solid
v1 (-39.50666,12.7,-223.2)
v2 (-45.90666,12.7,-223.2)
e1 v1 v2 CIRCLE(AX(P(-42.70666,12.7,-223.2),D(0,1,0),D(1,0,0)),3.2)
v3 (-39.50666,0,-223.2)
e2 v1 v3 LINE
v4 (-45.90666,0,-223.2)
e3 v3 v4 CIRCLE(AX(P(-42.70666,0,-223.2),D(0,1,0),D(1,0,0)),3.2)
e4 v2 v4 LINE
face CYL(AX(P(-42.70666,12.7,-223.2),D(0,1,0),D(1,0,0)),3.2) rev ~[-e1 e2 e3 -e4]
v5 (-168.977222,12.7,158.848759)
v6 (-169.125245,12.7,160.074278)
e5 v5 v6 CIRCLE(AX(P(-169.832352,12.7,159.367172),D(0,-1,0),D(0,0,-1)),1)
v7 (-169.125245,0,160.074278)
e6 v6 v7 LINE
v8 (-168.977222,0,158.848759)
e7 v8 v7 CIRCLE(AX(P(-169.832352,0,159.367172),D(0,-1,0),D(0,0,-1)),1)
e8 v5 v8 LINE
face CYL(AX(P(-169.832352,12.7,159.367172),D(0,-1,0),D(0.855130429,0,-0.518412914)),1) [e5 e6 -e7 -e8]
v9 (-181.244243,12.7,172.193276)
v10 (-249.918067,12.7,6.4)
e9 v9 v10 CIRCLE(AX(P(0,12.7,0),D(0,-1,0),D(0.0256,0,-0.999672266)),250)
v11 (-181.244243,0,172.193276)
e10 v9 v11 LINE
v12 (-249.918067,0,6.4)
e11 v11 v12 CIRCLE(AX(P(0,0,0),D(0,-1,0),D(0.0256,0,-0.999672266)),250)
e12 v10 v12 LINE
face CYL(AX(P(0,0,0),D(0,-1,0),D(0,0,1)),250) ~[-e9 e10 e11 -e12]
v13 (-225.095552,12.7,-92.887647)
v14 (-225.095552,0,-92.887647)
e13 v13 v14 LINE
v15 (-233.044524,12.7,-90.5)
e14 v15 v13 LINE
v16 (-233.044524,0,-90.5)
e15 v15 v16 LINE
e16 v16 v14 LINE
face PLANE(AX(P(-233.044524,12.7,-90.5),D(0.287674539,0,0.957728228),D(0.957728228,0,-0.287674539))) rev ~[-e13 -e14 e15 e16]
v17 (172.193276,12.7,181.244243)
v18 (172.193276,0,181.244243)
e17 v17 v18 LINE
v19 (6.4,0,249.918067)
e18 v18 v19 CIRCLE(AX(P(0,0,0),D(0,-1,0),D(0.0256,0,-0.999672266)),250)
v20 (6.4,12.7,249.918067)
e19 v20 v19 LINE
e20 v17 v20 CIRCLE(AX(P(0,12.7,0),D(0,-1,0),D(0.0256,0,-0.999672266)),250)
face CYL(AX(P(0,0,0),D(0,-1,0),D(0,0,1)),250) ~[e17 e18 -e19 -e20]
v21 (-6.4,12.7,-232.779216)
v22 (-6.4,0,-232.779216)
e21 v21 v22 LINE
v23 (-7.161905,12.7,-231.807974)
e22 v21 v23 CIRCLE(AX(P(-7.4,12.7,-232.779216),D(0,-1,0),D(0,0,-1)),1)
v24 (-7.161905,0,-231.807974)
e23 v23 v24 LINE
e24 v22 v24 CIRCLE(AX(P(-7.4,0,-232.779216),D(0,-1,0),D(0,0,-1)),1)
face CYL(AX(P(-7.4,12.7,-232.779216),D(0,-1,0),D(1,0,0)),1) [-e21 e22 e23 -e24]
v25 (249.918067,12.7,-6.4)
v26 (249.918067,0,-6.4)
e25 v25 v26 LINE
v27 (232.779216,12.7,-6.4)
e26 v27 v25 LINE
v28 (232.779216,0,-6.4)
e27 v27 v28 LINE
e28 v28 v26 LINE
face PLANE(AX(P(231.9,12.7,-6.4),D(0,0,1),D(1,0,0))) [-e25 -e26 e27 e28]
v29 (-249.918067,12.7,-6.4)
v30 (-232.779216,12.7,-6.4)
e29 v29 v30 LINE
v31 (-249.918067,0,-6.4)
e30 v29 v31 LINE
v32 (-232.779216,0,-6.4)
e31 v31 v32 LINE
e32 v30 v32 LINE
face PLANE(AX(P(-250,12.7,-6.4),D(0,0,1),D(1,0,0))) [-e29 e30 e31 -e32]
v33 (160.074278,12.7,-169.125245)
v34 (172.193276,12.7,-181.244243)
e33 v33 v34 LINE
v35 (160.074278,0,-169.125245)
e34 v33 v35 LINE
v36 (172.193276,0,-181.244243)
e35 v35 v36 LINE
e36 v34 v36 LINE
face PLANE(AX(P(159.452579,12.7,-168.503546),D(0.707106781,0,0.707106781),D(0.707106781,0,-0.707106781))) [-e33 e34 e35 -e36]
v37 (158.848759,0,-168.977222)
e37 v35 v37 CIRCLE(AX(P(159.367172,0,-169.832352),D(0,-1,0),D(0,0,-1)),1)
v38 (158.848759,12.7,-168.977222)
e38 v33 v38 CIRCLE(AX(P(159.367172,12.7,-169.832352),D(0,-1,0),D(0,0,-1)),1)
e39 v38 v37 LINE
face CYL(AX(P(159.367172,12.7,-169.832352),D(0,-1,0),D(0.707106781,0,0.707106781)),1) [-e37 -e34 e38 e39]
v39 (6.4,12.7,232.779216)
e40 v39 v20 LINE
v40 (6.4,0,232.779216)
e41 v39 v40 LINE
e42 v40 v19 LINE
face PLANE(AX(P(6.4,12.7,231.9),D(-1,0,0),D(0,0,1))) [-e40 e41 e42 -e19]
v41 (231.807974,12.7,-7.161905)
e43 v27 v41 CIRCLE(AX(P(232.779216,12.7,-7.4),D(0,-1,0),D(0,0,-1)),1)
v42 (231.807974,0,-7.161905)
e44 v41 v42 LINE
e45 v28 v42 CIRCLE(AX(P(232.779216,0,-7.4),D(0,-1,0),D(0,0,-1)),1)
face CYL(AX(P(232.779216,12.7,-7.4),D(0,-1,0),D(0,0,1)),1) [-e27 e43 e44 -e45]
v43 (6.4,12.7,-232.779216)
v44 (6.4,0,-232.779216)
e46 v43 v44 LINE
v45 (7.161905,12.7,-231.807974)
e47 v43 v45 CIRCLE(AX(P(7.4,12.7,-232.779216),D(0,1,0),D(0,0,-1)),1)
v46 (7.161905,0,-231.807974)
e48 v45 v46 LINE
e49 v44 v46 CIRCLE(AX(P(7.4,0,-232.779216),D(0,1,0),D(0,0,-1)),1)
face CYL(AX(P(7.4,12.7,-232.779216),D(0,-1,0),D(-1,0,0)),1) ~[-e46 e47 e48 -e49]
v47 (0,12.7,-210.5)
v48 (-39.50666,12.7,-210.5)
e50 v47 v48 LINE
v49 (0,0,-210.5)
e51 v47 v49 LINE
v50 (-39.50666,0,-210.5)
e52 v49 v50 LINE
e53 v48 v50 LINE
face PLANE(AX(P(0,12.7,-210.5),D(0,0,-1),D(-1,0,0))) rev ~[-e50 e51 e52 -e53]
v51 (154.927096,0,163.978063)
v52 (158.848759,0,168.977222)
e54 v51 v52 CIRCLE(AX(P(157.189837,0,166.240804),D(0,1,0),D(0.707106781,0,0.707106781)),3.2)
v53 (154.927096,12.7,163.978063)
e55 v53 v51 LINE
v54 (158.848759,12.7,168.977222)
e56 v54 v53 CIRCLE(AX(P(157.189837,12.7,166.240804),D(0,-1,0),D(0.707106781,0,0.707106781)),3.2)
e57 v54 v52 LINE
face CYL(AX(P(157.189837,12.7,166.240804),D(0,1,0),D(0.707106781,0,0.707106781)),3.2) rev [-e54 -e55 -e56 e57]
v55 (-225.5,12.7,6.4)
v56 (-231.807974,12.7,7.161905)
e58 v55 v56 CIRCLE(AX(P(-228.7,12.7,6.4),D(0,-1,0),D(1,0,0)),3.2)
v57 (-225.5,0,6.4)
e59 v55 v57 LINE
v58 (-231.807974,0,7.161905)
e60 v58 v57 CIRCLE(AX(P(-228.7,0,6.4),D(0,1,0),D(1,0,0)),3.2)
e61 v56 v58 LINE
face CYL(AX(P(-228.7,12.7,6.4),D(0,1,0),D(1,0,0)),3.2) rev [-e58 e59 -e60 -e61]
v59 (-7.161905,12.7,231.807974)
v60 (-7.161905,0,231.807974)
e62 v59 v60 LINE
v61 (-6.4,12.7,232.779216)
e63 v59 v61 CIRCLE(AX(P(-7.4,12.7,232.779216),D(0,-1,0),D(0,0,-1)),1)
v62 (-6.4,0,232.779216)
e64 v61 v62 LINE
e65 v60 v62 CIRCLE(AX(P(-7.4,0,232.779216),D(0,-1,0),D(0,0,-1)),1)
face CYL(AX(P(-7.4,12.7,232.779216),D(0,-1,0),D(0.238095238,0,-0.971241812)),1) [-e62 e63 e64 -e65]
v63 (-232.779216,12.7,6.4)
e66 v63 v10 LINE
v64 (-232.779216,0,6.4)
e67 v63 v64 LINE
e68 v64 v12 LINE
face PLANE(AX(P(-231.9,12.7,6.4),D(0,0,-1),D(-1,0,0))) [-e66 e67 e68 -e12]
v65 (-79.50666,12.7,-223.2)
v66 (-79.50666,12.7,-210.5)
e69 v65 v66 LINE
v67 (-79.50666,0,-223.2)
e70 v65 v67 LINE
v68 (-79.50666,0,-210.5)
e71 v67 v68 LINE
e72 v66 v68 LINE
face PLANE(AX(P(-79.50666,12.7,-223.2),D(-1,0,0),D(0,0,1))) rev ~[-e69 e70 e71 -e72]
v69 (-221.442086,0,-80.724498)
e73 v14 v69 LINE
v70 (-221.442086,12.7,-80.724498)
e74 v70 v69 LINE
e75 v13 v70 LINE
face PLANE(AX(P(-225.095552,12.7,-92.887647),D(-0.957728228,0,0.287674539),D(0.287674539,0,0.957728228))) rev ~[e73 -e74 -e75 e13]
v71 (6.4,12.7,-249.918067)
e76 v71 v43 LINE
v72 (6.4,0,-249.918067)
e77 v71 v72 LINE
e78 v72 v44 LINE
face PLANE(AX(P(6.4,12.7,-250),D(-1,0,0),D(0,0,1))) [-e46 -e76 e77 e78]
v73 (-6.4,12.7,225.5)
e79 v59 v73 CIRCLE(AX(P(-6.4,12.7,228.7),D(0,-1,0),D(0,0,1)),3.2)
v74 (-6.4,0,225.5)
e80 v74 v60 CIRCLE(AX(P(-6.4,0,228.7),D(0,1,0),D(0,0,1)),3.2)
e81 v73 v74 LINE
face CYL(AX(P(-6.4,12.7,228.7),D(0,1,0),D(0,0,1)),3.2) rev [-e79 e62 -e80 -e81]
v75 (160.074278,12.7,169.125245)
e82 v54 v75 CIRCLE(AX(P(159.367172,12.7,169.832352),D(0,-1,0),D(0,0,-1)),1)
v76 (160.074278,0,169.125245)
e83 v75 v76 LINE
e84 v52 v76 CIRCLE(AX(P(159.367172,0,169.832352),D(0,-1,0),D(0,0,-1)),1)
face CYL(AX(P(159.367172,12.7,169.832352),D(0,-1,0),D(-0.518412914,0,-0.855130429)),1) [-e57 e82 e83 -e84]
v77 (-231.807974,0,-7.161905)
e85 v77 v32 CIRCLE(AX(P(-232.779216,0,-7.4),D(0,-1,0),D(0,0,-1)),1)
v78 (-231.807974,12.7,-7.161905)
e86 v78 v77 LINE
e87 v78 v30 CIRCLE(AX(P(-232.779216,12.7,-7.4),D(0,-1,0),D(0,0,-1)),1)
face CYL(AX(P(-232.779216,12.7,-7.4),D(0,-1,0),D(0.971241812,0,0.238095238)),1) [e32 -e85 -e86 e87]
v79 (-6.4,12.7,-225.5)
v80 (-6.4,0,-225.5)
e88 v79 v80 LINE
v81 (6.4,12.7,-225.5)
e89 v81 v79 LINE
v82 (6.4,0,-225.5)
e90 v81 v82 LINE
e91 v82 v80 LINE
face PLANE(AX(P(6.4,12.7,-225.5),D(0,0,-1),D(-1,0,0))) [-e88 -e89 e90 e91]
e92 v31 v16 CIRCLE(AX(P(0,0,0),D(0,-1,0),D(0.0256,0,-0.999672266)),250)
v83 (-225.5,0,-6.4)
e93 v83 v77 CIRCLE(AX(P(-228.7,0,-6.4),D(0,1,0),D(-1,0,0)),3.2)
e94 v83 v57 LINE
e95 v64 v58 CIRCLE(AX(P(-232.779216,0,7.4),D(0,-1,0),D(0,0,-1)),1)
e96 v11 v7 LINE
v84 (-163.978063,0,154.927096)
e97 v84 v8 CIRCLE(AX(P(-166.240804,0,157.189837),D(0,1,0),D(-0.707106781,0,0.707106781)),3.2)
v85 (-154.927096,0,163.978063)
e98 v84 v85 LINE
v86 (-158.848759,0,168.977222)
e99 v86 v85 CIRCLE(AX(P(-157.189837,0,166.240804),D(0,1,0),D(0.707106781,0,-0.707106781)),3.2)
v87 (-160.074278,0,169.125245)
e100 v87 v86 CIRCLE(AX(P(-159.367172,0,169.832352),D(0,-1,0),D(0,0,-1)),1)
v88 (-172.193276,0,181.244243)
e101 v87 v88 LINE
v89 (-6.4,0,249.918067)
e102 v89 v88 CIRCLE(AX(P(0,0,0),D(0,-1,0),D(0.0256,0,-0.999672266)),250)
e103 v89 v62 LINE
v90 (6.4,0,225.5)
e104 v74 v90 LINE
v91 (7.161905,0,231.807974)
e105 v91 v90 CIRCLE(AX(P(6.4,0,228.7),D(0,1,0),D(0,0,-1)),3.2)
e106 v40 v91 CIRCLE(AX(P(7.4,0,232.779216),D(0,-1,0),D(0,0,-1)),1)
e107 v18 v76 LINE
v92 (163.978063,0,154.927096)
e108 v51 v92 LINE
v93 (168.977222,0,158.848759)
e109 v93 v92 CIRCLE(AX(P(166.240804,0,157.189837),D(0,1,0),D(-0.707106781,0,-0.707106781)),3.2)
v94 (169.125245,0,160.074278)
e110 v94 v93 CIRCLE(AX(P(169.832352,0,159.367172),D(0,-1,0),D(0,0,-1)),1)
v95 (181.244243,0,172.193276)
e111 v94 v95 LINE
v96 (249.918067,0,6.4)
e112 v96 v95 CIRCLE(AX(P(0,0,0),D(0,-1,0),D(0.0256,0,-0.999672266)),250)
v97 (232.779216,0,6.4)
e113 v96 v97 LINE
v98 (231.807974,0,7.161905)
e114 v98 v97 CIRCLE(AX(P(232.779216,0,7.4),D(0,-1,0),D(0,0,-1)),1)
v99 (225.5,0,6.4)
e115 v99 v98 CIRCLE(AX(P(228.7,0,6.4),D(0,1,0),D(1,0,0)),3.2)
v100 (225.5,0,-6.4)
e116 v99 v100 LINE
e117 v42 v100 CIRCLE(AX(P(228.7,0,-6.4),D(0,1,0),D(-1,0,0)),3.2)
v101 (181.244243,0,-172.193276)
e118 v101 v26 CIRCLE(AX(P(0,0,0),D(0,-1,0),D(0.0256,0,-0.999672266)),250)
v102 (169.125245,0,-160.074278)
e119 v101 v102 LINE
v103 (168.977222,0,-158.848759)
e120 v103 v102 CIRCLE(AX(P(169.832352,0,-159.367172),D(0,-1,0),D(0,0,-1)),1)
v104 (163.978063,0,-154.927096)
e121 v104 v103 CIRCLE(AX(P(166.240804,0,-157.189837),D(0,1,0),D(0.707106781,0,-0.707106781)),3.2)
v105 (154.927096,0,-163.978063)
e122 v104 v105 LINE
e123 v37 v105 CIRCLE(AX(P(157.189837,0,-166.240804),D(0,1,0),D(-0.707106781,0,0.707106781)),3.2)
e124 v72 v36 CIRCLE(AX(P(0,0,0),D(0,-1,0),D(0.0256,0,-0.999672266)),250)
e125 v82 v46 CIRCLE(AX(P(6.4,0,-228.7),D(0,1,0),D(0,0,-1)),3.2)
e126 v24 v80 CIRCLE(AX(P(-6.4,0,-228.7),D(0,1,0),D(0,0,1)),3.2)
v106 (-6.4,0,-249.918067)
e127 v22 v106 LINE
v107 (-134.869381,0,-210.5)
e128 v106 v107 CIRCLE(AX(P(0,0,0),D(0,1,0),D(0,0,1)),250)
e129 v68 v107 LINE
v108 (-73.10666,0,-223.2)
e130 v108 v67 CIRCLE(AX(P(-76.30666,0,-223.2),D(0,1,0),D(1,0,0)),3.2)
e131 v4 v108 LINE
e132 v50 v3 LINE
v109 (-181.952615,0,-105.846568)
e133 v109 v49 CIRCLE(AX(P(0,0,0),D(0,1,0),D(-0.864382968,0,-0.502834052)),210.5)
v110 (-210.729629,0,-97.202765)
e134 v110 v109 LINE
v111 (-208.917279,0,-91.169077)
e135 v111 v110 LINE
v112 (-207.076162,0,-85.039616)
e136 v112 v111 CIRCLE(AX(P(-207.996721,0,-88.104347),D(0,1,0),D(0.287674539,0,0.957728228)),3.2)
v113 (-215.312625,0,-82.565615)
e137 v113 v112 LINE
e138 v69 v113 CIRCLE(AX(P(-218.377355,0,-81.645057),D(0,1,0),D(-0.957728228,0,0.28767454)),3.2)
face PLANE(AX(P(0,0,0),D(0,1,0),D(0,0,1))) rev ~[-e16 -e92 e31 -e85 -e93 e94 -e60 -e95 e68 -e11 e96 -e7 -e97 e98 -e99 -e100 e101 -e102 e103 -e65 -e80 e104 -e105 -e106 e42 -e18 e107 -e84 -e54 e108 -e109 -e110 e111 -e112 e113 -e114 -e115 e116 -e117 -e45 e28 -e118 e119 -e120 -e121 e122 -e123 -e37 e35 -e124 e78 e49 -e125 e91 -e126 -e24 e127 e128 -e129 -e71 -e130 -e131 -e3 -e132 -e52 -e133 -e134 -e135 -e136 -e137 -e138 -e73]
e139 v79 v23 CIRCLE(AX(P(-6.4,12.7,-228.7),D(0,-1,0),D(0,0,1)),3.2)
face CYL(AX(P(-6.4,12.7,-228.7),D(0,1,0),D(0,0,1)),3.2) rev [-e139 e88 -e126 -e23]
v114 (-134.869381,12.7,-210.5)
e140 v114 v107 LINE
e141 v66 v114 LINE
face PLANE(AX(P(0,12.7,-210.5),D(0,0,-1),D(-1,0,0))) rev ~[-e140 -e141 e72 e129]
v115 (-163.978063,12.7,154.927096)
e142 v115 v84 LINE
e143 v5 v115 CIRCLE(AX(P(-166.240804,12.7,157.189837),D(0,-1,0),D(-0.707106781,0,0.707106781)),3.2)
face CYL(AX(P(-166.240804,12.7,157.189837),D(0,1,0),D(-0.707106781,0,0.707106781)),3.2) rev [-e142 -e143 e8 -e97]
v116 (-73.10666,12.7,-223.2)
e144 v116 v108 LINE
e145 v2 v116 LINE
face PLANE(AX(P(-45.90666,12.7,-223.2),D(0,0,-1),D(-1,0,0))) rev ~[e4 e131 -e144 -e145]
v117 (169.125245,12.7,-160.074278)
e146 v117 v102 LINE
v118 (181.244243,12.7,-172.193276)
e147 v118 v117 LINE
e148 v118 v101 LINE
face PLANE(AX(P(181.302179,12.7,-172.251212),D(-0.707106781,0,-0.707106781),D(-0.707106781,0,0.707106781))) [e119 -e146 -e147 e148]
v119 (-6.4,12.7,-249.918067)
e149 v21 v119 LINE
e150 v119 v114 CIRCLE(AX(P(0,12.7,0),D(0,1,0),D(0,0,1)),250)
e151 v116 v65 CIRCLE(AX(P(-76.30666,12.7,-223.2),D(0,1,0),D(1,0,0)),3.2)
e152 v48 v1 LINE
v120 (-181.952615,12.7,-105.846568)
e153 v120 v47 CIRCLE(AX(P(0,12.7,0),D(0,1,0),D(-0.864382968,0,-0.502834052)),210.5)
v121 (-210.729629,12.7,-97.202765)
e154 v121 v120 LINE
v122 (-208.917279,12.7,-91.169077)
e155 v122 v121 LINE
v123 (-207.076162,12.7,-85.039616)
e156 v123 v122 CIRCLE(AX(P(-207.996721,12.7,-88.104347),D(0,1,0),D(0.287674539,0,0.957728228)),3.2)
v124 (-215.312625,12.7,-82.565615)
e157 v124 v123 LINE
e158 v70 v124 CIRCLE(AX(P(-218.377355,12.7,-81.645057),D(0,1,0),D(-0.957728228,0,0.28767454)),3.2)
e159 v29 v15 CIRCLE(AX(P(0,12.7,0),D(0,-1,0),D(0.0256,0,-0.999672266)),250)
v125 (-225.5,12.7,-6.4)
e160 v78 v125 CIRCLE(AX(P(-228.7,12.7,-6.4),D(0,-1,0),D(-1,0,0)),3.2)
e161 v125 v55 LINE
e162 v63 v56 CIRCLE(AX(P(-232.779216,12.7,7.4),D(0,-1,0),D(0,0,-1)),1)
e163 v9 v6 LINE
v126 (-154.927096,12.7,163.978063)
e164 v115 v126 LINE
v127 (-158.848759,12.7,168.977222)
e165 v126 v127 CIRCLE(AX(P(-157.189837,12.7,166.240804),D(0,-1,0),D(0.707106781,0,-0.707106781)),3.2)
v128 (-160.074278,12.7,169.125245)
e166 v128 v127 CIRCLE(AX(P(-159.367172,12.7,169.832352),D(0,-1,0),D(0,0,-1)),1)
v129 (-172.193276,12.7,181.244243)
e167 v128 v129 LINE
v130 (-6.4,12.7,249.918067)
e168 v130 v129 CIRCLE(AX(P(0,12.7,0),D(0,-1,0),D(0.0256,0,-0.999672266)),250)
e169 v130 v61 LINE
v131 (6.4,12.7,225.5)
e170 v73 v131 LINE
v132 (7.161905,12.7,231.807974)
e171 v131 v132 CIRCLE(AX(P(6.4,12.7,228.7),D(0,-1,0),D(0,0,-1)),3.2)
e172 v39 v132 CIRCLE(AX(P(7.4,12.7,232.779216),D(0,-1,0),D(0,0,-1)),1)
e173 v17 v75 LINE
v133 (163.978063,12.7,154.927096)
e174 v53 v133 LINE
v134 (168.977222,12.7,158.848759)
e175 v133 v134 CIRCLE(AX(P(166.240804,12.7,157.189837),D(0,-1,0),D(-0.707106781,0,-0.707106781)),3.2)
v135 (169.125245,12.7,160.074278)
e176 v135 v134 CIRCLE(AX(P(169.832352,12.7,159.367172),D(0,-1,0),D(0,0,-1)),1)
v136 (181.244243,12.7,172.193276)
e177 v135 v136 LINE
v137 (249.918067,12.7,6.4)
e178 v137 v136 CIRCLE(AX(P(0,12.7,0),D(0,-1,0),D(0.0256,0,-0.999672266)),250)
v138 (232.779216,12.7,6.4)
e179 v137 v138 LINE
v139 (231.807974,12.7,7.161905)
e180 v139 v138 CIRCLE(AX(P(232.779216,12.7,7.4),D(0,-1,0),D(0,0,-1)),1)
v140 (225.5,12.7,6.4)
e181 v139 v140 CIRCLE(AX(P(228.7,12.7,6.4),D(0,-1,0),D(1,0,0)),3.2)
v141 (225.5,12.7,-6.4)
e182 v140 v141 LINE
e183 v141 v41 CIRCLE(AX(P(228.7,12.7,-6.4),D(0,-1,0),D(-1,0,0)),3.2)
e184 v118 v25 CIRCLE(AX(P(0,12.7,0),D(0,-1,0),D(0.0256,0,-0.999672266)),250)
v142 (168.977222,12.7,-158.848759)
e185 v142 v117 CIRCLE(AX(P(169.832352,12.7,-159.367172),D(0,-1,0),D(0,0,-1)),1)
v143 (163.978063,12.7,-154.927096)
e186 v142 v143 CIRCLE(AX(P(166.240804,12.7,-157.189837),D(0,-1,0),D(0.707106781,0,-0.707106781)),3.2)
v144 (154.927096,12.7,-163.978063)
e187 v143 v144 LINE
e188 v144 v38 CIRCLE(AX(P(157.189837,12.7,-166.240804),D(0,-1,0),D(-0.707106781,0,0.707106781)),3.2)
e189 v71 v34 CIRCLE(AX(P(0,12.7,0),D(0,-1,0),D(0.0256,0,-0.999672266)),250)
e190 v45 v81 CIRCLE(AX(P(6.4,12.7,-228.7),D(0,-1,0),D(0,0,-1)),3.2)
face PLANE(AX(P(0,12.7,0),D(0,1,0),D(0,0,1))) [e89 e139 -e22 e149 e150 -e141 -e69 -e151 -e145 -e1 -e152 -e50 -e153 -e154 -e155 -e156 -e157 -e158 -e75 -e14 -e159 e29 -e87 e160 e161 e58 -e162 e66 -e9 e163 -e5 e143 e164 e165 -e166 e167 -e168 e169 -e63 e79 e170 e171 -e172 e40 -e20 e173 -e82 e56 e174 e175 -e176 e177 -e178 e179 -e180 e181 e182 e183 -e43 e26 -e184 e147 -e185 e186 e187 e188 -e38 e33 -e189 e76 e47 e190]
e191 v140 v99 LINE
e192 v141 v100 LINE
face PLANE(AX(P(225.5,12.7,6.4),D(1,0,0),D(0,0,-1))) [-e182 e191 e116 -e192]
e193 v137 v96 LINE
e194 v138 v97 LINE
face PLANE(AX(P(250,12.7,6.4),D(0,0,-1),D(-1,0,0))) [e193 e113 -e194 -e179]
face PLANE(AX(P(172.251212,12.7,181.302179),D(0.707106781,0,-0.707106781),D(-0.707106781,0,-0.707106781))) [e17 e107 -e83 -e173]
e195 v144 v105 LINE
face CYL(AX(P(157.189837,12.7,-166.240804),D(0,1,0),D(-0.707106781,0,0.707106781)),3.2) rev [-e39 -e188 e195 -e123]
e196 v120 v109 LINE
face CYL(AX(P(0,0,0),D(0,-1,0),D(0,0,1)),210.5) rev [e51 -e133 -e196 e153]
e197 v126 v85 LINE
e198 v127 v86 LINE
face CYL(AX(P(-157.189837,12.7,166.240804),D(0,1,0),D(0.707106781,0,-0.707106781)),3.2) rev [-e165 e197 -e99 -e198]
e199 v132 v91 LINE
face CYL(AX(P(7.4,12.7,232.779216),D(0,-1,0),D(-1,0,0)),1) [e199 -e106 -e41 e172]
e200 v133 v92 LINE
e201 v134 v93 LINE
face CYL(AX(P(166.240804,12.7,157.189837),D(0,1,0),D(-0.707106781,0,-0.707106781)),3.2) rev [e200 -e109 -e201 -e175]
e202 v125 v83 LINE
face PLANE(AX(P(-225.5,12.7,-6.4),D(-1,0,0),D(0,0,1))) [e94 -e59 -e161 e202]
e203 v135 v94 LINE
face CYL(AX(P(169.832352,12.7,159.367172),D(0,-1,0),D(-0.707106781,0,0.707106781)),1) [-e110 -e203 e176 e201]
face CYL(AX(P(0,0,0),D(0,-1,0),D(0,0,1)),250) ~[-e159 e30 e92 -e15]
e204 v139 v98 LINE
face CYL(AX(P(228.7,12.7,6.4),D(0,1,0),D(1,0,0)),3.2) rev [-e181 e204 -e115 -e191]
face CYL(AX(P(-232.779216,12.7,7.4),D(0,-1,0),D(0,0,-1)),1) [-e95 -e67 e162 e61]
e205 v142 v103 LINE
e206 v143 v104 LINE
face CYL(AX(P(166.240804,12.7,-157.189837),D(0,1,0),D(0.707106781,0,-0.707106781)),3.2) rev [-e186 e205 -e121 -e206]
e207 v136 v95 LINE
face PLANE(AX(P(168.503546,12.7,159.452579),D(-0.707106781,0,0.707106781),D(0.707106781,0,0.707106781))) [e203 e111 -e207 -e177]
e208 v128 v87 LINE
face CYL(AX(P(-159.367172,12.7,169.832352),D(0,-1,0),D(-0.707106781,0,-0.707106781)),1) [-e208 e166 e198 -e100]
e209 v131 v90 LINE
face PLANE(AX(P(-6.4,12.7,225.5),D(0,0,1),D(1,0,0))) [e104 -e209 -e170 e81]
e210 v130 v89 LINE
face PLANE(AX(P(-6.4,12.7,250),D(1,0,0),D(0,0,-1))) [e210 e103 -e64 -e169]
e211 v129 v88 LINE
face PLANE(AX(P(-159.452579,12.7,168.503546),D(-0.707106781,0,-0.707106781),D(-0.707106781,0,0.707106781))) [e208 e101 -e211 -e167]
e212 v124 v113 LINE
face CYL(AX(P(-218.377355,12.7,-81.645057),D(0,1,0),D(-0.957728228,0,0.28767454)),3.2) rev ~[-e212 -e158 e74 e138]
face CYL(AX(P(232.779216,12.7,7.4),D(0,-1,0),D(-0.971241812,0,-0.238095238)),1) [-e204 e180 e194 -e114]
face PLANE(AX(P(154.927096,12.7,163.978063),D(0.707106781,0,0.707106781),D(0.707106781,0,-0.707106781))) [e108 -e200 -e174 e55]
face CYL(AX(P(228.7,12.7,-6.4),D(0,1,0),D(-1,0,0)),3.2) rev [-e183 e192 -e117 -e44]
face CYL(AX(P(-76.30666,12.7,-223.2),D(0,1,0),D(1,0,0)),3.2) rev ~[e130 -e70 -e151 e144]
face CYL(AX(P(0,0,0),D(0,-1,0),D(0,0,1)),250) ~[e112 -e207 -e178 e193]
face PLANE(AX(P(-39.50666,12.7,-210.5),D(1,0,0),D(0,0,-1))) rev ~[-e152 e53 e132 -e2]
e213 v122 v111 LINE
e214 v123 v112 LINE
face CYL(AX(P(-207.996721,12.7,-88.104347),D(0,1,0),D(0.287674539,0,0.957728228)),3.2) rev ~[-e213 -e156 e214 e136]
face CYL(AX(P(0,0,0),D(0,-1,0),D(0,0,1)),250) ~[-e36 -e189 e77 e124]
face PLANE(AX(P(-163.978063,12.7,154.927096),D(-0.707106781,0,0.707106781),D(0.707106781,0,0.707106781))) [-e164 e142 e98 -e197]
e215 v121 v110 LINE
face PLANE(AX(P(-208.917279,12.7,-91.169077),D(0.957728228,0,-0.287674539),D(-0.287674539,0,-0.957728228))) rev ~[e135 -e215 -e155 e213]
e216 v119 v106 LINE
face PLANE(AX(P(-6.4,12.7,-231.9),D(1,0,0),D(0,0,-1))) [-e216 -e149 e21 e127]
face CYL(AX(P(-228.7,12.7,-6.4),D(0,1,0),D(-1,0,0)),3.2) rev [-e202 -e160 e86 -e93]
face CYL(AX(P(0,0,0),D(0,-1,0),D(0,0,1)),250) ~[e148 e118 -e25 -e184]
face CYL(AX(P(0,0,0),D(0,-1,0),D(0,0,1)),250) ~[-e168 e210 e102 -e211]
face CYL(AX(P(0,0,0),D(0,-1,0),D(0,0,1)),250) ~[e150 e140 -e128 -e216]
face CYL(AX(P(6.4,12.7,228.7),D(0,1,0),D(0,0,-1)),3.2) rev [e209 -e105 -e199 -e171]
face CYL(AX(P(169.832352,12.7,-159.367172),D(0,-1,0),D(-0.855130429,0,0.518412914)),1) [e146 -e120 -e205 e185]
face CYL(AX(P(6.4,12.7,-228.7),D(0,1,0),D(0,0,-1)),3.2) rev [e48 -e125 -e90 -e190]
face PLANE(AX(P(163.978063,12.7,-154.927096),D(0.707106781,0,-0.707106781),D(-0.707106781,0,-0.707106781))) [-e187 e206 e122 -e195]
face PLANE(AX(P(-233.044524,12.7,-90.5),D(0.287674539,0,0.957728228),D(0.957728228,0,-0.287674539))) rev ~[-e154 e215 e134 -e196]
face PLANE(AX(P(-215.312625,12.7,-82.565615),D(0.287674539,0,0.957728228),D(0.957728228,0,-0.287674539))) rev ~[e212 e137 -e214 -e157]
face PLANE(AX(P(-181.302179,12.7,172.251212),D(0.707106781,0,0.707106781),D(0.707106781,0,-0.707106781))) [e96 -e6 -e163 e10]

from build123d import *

# Parameters (mm, degrees)
SKETCH1_R                = 250
SKETCH1_R_2              = 210.5
BOSS_EXTRUDE1_DEPTH      = 12.7
CUT_EXTRUDE1_DEPTH       = 354.781415566
FILLET1_R                = 1
CIRPATTERN1_COUNT        = 8
FILLET1_OF_CIRPATTERN1_R = 1
CUT_EXTRUDE3_DEPTH       = 354.665618911
CUT_EXTRUDE4_DEPTH       = 354.665618911


with BuildPart() as part:
    # Sketch1 → Boss-Extrude1 (new body)
    with BuildSketch(Plane(origin=(0, 0, 0), x_dir=(1, 0, 0), z_dir=(0, 1, 0))):
        with Locations(Location((0, 0, 0), (0, 0, 270))):
            Circle(SKETCH1_R)
        with Locations(Location((0, 0, 0), (0, 0, 270))):
            Circle(SKETCH1_R_2, mode=Mode.SUBTRACT)
    extrude(amount=BOSS_EXTRUDE1_DEPTH)

    # Sketch2 → Cut-Extrude1 (cut, through all)
    with BuildSketch(Plane(origin=(0, 12.7, 0), x_dir=(1, 0, 0), z_dir=(0, 1, 0))):
        with BuildLine():
            Line((6.4, 225.5), (-6.4, 225.5))
            ThreePointArc((-6.4, 225.5), (-9.6, 228.7), (-6.4, 231.9))
            Line((-6.4, 231.9), (-6.4, 250))
            Line((-6.4, 250), (6.4, 250))
            Line((6.4, 250), (6.4, 231.9))
            ThreePointArc((6.4, 231.9), (9.6, 228.7), (6.4, 225.5))
        make_face()
    cut_extrude1 = extrude(amount=-CUT_EXTRUDE1_DEPTH, mode=Mode.SUBTRACT)

    # Fillet1
    fillet1_edges = [part.edges().sort_by_distance(p)[0] for p in [
        (-6.4, 6.35, -231.9),
        (6.4, 6.35, -231.9),
    ]]
    fillet(fillet1_edges, radius=FILLET1_R)

    # CirPattern1: Cut-Extrude1 ×8 about axis
    cirpattern1_axis = Axis((0, 0, 0), (0, 1, 0))
    for i in range(1, CIRPATTERN1_COUNT):
        add(cut_extrude1.rotate(cirpattern1_axis, i * 360 / CIRPATTERN1_COUNT), mode=Mode.SUBTRACT)

    # Fillet1 of CirPattern1
    fillet1_of_cirpattern1_edges = [part.edges().sort_by_distance(p)[0] for p in [
        (-168.503545957, 6.35, -159.452579158),
        (-159.452579158, 6.35, -168.503545957),
        (-231.9, 6.35, 6.4),
        (-231.9, 6.35, -6.4),
        (-159.452579158, 6.35, 168.503545957),
        (-168.503545957, 6.35, 159.452579158),
        (6.4, 6.35, 231.9),
        (-6.4, 6.35, 231.9),
        (168.503545957, 6.35, 159.452579158),
        (159.452579158, 6.35, 168.503545957),
        (231.9, 6.35, -6.4),
        (231.9, 6.35, 6.4),
        (159.452579158, 6.35, -168.503545957),
        (168.503545957, 6.35, -159.452579158),
    ]]
    fillet(fillet1_of_cirpattern1_edges, radius=FILLET1_OF_CIRPATTERN1_R)

    # Sketch5 → Cut-Extrude3 (cut, through all)
    with BuildSketch(Plane(origin=(0, 12.7, 0), x_dir=(1, 0, 0), z_dir=(0, 1, 0))):
        Polygon((0, 210.5), (-248.044523643, 210.5), (-248.044523643, 90.5), (-233.044523643, 90.5), (0, 160.5), align=None)
    extrude(amount=-CUT_EXTRUDE3_DEPTH, mode=Mode.SUBTRACT)

    # Sketch6 → Cut-Extrude4 (cut, through all)
    with BuildSketch(Plane(origin=(0, 12.7, 0), x_dir=(1, 0, 0), z_dir=(0, 1, 0))):
        with BuildLine():
            Line((-39.506660352, 210.5), (-39.506660352, 223.2))
            ThreePointArc((-39.506660352, 223.2), (-42.706660352, 226.4), (-45.906660352, 223.2))
            Line((-45.906660352, 223.2), (-73.106660352, 223.2))
            ThreePointArc((-73.106660352, 223.2), (-76.306660352, 226.4), (-79.506660352, 223.2))
            Line((-79.506660352, 223.2), (-79.506660352, 210.5))
            Line((-79.506660352, 210.5), (-39.506660352, 210.5))
        make_face()
        with BuildLine():
            Line((-225.095552296, 92.887646728), (-221.442085646, 80.724498227))
            ThreePointArc((-221.442085646, 80.724498227), (-217.45679679, 78.580326423), (-215.312624985, 82.565615279))
            Line((-215.312624985, 82.565615279), (-207.076162221, 85.039616318))
            ThreePointArc((-207.076162221, 85.039616318), (-204.931990416, 89.024905174), (-208.917279273, 91.169076979))
            Line((-208.917279273, 91.169076979), (-210.72962887, 97.202764818))
            Line((-210.72962887, 97.202764818), (-225.095552296, 92.887646728))
        make_face()
    extrude(amount=-CUT_EXTRUDE4_DEPTH, mode=Mode.SUBTRACT)


solid = part.part
